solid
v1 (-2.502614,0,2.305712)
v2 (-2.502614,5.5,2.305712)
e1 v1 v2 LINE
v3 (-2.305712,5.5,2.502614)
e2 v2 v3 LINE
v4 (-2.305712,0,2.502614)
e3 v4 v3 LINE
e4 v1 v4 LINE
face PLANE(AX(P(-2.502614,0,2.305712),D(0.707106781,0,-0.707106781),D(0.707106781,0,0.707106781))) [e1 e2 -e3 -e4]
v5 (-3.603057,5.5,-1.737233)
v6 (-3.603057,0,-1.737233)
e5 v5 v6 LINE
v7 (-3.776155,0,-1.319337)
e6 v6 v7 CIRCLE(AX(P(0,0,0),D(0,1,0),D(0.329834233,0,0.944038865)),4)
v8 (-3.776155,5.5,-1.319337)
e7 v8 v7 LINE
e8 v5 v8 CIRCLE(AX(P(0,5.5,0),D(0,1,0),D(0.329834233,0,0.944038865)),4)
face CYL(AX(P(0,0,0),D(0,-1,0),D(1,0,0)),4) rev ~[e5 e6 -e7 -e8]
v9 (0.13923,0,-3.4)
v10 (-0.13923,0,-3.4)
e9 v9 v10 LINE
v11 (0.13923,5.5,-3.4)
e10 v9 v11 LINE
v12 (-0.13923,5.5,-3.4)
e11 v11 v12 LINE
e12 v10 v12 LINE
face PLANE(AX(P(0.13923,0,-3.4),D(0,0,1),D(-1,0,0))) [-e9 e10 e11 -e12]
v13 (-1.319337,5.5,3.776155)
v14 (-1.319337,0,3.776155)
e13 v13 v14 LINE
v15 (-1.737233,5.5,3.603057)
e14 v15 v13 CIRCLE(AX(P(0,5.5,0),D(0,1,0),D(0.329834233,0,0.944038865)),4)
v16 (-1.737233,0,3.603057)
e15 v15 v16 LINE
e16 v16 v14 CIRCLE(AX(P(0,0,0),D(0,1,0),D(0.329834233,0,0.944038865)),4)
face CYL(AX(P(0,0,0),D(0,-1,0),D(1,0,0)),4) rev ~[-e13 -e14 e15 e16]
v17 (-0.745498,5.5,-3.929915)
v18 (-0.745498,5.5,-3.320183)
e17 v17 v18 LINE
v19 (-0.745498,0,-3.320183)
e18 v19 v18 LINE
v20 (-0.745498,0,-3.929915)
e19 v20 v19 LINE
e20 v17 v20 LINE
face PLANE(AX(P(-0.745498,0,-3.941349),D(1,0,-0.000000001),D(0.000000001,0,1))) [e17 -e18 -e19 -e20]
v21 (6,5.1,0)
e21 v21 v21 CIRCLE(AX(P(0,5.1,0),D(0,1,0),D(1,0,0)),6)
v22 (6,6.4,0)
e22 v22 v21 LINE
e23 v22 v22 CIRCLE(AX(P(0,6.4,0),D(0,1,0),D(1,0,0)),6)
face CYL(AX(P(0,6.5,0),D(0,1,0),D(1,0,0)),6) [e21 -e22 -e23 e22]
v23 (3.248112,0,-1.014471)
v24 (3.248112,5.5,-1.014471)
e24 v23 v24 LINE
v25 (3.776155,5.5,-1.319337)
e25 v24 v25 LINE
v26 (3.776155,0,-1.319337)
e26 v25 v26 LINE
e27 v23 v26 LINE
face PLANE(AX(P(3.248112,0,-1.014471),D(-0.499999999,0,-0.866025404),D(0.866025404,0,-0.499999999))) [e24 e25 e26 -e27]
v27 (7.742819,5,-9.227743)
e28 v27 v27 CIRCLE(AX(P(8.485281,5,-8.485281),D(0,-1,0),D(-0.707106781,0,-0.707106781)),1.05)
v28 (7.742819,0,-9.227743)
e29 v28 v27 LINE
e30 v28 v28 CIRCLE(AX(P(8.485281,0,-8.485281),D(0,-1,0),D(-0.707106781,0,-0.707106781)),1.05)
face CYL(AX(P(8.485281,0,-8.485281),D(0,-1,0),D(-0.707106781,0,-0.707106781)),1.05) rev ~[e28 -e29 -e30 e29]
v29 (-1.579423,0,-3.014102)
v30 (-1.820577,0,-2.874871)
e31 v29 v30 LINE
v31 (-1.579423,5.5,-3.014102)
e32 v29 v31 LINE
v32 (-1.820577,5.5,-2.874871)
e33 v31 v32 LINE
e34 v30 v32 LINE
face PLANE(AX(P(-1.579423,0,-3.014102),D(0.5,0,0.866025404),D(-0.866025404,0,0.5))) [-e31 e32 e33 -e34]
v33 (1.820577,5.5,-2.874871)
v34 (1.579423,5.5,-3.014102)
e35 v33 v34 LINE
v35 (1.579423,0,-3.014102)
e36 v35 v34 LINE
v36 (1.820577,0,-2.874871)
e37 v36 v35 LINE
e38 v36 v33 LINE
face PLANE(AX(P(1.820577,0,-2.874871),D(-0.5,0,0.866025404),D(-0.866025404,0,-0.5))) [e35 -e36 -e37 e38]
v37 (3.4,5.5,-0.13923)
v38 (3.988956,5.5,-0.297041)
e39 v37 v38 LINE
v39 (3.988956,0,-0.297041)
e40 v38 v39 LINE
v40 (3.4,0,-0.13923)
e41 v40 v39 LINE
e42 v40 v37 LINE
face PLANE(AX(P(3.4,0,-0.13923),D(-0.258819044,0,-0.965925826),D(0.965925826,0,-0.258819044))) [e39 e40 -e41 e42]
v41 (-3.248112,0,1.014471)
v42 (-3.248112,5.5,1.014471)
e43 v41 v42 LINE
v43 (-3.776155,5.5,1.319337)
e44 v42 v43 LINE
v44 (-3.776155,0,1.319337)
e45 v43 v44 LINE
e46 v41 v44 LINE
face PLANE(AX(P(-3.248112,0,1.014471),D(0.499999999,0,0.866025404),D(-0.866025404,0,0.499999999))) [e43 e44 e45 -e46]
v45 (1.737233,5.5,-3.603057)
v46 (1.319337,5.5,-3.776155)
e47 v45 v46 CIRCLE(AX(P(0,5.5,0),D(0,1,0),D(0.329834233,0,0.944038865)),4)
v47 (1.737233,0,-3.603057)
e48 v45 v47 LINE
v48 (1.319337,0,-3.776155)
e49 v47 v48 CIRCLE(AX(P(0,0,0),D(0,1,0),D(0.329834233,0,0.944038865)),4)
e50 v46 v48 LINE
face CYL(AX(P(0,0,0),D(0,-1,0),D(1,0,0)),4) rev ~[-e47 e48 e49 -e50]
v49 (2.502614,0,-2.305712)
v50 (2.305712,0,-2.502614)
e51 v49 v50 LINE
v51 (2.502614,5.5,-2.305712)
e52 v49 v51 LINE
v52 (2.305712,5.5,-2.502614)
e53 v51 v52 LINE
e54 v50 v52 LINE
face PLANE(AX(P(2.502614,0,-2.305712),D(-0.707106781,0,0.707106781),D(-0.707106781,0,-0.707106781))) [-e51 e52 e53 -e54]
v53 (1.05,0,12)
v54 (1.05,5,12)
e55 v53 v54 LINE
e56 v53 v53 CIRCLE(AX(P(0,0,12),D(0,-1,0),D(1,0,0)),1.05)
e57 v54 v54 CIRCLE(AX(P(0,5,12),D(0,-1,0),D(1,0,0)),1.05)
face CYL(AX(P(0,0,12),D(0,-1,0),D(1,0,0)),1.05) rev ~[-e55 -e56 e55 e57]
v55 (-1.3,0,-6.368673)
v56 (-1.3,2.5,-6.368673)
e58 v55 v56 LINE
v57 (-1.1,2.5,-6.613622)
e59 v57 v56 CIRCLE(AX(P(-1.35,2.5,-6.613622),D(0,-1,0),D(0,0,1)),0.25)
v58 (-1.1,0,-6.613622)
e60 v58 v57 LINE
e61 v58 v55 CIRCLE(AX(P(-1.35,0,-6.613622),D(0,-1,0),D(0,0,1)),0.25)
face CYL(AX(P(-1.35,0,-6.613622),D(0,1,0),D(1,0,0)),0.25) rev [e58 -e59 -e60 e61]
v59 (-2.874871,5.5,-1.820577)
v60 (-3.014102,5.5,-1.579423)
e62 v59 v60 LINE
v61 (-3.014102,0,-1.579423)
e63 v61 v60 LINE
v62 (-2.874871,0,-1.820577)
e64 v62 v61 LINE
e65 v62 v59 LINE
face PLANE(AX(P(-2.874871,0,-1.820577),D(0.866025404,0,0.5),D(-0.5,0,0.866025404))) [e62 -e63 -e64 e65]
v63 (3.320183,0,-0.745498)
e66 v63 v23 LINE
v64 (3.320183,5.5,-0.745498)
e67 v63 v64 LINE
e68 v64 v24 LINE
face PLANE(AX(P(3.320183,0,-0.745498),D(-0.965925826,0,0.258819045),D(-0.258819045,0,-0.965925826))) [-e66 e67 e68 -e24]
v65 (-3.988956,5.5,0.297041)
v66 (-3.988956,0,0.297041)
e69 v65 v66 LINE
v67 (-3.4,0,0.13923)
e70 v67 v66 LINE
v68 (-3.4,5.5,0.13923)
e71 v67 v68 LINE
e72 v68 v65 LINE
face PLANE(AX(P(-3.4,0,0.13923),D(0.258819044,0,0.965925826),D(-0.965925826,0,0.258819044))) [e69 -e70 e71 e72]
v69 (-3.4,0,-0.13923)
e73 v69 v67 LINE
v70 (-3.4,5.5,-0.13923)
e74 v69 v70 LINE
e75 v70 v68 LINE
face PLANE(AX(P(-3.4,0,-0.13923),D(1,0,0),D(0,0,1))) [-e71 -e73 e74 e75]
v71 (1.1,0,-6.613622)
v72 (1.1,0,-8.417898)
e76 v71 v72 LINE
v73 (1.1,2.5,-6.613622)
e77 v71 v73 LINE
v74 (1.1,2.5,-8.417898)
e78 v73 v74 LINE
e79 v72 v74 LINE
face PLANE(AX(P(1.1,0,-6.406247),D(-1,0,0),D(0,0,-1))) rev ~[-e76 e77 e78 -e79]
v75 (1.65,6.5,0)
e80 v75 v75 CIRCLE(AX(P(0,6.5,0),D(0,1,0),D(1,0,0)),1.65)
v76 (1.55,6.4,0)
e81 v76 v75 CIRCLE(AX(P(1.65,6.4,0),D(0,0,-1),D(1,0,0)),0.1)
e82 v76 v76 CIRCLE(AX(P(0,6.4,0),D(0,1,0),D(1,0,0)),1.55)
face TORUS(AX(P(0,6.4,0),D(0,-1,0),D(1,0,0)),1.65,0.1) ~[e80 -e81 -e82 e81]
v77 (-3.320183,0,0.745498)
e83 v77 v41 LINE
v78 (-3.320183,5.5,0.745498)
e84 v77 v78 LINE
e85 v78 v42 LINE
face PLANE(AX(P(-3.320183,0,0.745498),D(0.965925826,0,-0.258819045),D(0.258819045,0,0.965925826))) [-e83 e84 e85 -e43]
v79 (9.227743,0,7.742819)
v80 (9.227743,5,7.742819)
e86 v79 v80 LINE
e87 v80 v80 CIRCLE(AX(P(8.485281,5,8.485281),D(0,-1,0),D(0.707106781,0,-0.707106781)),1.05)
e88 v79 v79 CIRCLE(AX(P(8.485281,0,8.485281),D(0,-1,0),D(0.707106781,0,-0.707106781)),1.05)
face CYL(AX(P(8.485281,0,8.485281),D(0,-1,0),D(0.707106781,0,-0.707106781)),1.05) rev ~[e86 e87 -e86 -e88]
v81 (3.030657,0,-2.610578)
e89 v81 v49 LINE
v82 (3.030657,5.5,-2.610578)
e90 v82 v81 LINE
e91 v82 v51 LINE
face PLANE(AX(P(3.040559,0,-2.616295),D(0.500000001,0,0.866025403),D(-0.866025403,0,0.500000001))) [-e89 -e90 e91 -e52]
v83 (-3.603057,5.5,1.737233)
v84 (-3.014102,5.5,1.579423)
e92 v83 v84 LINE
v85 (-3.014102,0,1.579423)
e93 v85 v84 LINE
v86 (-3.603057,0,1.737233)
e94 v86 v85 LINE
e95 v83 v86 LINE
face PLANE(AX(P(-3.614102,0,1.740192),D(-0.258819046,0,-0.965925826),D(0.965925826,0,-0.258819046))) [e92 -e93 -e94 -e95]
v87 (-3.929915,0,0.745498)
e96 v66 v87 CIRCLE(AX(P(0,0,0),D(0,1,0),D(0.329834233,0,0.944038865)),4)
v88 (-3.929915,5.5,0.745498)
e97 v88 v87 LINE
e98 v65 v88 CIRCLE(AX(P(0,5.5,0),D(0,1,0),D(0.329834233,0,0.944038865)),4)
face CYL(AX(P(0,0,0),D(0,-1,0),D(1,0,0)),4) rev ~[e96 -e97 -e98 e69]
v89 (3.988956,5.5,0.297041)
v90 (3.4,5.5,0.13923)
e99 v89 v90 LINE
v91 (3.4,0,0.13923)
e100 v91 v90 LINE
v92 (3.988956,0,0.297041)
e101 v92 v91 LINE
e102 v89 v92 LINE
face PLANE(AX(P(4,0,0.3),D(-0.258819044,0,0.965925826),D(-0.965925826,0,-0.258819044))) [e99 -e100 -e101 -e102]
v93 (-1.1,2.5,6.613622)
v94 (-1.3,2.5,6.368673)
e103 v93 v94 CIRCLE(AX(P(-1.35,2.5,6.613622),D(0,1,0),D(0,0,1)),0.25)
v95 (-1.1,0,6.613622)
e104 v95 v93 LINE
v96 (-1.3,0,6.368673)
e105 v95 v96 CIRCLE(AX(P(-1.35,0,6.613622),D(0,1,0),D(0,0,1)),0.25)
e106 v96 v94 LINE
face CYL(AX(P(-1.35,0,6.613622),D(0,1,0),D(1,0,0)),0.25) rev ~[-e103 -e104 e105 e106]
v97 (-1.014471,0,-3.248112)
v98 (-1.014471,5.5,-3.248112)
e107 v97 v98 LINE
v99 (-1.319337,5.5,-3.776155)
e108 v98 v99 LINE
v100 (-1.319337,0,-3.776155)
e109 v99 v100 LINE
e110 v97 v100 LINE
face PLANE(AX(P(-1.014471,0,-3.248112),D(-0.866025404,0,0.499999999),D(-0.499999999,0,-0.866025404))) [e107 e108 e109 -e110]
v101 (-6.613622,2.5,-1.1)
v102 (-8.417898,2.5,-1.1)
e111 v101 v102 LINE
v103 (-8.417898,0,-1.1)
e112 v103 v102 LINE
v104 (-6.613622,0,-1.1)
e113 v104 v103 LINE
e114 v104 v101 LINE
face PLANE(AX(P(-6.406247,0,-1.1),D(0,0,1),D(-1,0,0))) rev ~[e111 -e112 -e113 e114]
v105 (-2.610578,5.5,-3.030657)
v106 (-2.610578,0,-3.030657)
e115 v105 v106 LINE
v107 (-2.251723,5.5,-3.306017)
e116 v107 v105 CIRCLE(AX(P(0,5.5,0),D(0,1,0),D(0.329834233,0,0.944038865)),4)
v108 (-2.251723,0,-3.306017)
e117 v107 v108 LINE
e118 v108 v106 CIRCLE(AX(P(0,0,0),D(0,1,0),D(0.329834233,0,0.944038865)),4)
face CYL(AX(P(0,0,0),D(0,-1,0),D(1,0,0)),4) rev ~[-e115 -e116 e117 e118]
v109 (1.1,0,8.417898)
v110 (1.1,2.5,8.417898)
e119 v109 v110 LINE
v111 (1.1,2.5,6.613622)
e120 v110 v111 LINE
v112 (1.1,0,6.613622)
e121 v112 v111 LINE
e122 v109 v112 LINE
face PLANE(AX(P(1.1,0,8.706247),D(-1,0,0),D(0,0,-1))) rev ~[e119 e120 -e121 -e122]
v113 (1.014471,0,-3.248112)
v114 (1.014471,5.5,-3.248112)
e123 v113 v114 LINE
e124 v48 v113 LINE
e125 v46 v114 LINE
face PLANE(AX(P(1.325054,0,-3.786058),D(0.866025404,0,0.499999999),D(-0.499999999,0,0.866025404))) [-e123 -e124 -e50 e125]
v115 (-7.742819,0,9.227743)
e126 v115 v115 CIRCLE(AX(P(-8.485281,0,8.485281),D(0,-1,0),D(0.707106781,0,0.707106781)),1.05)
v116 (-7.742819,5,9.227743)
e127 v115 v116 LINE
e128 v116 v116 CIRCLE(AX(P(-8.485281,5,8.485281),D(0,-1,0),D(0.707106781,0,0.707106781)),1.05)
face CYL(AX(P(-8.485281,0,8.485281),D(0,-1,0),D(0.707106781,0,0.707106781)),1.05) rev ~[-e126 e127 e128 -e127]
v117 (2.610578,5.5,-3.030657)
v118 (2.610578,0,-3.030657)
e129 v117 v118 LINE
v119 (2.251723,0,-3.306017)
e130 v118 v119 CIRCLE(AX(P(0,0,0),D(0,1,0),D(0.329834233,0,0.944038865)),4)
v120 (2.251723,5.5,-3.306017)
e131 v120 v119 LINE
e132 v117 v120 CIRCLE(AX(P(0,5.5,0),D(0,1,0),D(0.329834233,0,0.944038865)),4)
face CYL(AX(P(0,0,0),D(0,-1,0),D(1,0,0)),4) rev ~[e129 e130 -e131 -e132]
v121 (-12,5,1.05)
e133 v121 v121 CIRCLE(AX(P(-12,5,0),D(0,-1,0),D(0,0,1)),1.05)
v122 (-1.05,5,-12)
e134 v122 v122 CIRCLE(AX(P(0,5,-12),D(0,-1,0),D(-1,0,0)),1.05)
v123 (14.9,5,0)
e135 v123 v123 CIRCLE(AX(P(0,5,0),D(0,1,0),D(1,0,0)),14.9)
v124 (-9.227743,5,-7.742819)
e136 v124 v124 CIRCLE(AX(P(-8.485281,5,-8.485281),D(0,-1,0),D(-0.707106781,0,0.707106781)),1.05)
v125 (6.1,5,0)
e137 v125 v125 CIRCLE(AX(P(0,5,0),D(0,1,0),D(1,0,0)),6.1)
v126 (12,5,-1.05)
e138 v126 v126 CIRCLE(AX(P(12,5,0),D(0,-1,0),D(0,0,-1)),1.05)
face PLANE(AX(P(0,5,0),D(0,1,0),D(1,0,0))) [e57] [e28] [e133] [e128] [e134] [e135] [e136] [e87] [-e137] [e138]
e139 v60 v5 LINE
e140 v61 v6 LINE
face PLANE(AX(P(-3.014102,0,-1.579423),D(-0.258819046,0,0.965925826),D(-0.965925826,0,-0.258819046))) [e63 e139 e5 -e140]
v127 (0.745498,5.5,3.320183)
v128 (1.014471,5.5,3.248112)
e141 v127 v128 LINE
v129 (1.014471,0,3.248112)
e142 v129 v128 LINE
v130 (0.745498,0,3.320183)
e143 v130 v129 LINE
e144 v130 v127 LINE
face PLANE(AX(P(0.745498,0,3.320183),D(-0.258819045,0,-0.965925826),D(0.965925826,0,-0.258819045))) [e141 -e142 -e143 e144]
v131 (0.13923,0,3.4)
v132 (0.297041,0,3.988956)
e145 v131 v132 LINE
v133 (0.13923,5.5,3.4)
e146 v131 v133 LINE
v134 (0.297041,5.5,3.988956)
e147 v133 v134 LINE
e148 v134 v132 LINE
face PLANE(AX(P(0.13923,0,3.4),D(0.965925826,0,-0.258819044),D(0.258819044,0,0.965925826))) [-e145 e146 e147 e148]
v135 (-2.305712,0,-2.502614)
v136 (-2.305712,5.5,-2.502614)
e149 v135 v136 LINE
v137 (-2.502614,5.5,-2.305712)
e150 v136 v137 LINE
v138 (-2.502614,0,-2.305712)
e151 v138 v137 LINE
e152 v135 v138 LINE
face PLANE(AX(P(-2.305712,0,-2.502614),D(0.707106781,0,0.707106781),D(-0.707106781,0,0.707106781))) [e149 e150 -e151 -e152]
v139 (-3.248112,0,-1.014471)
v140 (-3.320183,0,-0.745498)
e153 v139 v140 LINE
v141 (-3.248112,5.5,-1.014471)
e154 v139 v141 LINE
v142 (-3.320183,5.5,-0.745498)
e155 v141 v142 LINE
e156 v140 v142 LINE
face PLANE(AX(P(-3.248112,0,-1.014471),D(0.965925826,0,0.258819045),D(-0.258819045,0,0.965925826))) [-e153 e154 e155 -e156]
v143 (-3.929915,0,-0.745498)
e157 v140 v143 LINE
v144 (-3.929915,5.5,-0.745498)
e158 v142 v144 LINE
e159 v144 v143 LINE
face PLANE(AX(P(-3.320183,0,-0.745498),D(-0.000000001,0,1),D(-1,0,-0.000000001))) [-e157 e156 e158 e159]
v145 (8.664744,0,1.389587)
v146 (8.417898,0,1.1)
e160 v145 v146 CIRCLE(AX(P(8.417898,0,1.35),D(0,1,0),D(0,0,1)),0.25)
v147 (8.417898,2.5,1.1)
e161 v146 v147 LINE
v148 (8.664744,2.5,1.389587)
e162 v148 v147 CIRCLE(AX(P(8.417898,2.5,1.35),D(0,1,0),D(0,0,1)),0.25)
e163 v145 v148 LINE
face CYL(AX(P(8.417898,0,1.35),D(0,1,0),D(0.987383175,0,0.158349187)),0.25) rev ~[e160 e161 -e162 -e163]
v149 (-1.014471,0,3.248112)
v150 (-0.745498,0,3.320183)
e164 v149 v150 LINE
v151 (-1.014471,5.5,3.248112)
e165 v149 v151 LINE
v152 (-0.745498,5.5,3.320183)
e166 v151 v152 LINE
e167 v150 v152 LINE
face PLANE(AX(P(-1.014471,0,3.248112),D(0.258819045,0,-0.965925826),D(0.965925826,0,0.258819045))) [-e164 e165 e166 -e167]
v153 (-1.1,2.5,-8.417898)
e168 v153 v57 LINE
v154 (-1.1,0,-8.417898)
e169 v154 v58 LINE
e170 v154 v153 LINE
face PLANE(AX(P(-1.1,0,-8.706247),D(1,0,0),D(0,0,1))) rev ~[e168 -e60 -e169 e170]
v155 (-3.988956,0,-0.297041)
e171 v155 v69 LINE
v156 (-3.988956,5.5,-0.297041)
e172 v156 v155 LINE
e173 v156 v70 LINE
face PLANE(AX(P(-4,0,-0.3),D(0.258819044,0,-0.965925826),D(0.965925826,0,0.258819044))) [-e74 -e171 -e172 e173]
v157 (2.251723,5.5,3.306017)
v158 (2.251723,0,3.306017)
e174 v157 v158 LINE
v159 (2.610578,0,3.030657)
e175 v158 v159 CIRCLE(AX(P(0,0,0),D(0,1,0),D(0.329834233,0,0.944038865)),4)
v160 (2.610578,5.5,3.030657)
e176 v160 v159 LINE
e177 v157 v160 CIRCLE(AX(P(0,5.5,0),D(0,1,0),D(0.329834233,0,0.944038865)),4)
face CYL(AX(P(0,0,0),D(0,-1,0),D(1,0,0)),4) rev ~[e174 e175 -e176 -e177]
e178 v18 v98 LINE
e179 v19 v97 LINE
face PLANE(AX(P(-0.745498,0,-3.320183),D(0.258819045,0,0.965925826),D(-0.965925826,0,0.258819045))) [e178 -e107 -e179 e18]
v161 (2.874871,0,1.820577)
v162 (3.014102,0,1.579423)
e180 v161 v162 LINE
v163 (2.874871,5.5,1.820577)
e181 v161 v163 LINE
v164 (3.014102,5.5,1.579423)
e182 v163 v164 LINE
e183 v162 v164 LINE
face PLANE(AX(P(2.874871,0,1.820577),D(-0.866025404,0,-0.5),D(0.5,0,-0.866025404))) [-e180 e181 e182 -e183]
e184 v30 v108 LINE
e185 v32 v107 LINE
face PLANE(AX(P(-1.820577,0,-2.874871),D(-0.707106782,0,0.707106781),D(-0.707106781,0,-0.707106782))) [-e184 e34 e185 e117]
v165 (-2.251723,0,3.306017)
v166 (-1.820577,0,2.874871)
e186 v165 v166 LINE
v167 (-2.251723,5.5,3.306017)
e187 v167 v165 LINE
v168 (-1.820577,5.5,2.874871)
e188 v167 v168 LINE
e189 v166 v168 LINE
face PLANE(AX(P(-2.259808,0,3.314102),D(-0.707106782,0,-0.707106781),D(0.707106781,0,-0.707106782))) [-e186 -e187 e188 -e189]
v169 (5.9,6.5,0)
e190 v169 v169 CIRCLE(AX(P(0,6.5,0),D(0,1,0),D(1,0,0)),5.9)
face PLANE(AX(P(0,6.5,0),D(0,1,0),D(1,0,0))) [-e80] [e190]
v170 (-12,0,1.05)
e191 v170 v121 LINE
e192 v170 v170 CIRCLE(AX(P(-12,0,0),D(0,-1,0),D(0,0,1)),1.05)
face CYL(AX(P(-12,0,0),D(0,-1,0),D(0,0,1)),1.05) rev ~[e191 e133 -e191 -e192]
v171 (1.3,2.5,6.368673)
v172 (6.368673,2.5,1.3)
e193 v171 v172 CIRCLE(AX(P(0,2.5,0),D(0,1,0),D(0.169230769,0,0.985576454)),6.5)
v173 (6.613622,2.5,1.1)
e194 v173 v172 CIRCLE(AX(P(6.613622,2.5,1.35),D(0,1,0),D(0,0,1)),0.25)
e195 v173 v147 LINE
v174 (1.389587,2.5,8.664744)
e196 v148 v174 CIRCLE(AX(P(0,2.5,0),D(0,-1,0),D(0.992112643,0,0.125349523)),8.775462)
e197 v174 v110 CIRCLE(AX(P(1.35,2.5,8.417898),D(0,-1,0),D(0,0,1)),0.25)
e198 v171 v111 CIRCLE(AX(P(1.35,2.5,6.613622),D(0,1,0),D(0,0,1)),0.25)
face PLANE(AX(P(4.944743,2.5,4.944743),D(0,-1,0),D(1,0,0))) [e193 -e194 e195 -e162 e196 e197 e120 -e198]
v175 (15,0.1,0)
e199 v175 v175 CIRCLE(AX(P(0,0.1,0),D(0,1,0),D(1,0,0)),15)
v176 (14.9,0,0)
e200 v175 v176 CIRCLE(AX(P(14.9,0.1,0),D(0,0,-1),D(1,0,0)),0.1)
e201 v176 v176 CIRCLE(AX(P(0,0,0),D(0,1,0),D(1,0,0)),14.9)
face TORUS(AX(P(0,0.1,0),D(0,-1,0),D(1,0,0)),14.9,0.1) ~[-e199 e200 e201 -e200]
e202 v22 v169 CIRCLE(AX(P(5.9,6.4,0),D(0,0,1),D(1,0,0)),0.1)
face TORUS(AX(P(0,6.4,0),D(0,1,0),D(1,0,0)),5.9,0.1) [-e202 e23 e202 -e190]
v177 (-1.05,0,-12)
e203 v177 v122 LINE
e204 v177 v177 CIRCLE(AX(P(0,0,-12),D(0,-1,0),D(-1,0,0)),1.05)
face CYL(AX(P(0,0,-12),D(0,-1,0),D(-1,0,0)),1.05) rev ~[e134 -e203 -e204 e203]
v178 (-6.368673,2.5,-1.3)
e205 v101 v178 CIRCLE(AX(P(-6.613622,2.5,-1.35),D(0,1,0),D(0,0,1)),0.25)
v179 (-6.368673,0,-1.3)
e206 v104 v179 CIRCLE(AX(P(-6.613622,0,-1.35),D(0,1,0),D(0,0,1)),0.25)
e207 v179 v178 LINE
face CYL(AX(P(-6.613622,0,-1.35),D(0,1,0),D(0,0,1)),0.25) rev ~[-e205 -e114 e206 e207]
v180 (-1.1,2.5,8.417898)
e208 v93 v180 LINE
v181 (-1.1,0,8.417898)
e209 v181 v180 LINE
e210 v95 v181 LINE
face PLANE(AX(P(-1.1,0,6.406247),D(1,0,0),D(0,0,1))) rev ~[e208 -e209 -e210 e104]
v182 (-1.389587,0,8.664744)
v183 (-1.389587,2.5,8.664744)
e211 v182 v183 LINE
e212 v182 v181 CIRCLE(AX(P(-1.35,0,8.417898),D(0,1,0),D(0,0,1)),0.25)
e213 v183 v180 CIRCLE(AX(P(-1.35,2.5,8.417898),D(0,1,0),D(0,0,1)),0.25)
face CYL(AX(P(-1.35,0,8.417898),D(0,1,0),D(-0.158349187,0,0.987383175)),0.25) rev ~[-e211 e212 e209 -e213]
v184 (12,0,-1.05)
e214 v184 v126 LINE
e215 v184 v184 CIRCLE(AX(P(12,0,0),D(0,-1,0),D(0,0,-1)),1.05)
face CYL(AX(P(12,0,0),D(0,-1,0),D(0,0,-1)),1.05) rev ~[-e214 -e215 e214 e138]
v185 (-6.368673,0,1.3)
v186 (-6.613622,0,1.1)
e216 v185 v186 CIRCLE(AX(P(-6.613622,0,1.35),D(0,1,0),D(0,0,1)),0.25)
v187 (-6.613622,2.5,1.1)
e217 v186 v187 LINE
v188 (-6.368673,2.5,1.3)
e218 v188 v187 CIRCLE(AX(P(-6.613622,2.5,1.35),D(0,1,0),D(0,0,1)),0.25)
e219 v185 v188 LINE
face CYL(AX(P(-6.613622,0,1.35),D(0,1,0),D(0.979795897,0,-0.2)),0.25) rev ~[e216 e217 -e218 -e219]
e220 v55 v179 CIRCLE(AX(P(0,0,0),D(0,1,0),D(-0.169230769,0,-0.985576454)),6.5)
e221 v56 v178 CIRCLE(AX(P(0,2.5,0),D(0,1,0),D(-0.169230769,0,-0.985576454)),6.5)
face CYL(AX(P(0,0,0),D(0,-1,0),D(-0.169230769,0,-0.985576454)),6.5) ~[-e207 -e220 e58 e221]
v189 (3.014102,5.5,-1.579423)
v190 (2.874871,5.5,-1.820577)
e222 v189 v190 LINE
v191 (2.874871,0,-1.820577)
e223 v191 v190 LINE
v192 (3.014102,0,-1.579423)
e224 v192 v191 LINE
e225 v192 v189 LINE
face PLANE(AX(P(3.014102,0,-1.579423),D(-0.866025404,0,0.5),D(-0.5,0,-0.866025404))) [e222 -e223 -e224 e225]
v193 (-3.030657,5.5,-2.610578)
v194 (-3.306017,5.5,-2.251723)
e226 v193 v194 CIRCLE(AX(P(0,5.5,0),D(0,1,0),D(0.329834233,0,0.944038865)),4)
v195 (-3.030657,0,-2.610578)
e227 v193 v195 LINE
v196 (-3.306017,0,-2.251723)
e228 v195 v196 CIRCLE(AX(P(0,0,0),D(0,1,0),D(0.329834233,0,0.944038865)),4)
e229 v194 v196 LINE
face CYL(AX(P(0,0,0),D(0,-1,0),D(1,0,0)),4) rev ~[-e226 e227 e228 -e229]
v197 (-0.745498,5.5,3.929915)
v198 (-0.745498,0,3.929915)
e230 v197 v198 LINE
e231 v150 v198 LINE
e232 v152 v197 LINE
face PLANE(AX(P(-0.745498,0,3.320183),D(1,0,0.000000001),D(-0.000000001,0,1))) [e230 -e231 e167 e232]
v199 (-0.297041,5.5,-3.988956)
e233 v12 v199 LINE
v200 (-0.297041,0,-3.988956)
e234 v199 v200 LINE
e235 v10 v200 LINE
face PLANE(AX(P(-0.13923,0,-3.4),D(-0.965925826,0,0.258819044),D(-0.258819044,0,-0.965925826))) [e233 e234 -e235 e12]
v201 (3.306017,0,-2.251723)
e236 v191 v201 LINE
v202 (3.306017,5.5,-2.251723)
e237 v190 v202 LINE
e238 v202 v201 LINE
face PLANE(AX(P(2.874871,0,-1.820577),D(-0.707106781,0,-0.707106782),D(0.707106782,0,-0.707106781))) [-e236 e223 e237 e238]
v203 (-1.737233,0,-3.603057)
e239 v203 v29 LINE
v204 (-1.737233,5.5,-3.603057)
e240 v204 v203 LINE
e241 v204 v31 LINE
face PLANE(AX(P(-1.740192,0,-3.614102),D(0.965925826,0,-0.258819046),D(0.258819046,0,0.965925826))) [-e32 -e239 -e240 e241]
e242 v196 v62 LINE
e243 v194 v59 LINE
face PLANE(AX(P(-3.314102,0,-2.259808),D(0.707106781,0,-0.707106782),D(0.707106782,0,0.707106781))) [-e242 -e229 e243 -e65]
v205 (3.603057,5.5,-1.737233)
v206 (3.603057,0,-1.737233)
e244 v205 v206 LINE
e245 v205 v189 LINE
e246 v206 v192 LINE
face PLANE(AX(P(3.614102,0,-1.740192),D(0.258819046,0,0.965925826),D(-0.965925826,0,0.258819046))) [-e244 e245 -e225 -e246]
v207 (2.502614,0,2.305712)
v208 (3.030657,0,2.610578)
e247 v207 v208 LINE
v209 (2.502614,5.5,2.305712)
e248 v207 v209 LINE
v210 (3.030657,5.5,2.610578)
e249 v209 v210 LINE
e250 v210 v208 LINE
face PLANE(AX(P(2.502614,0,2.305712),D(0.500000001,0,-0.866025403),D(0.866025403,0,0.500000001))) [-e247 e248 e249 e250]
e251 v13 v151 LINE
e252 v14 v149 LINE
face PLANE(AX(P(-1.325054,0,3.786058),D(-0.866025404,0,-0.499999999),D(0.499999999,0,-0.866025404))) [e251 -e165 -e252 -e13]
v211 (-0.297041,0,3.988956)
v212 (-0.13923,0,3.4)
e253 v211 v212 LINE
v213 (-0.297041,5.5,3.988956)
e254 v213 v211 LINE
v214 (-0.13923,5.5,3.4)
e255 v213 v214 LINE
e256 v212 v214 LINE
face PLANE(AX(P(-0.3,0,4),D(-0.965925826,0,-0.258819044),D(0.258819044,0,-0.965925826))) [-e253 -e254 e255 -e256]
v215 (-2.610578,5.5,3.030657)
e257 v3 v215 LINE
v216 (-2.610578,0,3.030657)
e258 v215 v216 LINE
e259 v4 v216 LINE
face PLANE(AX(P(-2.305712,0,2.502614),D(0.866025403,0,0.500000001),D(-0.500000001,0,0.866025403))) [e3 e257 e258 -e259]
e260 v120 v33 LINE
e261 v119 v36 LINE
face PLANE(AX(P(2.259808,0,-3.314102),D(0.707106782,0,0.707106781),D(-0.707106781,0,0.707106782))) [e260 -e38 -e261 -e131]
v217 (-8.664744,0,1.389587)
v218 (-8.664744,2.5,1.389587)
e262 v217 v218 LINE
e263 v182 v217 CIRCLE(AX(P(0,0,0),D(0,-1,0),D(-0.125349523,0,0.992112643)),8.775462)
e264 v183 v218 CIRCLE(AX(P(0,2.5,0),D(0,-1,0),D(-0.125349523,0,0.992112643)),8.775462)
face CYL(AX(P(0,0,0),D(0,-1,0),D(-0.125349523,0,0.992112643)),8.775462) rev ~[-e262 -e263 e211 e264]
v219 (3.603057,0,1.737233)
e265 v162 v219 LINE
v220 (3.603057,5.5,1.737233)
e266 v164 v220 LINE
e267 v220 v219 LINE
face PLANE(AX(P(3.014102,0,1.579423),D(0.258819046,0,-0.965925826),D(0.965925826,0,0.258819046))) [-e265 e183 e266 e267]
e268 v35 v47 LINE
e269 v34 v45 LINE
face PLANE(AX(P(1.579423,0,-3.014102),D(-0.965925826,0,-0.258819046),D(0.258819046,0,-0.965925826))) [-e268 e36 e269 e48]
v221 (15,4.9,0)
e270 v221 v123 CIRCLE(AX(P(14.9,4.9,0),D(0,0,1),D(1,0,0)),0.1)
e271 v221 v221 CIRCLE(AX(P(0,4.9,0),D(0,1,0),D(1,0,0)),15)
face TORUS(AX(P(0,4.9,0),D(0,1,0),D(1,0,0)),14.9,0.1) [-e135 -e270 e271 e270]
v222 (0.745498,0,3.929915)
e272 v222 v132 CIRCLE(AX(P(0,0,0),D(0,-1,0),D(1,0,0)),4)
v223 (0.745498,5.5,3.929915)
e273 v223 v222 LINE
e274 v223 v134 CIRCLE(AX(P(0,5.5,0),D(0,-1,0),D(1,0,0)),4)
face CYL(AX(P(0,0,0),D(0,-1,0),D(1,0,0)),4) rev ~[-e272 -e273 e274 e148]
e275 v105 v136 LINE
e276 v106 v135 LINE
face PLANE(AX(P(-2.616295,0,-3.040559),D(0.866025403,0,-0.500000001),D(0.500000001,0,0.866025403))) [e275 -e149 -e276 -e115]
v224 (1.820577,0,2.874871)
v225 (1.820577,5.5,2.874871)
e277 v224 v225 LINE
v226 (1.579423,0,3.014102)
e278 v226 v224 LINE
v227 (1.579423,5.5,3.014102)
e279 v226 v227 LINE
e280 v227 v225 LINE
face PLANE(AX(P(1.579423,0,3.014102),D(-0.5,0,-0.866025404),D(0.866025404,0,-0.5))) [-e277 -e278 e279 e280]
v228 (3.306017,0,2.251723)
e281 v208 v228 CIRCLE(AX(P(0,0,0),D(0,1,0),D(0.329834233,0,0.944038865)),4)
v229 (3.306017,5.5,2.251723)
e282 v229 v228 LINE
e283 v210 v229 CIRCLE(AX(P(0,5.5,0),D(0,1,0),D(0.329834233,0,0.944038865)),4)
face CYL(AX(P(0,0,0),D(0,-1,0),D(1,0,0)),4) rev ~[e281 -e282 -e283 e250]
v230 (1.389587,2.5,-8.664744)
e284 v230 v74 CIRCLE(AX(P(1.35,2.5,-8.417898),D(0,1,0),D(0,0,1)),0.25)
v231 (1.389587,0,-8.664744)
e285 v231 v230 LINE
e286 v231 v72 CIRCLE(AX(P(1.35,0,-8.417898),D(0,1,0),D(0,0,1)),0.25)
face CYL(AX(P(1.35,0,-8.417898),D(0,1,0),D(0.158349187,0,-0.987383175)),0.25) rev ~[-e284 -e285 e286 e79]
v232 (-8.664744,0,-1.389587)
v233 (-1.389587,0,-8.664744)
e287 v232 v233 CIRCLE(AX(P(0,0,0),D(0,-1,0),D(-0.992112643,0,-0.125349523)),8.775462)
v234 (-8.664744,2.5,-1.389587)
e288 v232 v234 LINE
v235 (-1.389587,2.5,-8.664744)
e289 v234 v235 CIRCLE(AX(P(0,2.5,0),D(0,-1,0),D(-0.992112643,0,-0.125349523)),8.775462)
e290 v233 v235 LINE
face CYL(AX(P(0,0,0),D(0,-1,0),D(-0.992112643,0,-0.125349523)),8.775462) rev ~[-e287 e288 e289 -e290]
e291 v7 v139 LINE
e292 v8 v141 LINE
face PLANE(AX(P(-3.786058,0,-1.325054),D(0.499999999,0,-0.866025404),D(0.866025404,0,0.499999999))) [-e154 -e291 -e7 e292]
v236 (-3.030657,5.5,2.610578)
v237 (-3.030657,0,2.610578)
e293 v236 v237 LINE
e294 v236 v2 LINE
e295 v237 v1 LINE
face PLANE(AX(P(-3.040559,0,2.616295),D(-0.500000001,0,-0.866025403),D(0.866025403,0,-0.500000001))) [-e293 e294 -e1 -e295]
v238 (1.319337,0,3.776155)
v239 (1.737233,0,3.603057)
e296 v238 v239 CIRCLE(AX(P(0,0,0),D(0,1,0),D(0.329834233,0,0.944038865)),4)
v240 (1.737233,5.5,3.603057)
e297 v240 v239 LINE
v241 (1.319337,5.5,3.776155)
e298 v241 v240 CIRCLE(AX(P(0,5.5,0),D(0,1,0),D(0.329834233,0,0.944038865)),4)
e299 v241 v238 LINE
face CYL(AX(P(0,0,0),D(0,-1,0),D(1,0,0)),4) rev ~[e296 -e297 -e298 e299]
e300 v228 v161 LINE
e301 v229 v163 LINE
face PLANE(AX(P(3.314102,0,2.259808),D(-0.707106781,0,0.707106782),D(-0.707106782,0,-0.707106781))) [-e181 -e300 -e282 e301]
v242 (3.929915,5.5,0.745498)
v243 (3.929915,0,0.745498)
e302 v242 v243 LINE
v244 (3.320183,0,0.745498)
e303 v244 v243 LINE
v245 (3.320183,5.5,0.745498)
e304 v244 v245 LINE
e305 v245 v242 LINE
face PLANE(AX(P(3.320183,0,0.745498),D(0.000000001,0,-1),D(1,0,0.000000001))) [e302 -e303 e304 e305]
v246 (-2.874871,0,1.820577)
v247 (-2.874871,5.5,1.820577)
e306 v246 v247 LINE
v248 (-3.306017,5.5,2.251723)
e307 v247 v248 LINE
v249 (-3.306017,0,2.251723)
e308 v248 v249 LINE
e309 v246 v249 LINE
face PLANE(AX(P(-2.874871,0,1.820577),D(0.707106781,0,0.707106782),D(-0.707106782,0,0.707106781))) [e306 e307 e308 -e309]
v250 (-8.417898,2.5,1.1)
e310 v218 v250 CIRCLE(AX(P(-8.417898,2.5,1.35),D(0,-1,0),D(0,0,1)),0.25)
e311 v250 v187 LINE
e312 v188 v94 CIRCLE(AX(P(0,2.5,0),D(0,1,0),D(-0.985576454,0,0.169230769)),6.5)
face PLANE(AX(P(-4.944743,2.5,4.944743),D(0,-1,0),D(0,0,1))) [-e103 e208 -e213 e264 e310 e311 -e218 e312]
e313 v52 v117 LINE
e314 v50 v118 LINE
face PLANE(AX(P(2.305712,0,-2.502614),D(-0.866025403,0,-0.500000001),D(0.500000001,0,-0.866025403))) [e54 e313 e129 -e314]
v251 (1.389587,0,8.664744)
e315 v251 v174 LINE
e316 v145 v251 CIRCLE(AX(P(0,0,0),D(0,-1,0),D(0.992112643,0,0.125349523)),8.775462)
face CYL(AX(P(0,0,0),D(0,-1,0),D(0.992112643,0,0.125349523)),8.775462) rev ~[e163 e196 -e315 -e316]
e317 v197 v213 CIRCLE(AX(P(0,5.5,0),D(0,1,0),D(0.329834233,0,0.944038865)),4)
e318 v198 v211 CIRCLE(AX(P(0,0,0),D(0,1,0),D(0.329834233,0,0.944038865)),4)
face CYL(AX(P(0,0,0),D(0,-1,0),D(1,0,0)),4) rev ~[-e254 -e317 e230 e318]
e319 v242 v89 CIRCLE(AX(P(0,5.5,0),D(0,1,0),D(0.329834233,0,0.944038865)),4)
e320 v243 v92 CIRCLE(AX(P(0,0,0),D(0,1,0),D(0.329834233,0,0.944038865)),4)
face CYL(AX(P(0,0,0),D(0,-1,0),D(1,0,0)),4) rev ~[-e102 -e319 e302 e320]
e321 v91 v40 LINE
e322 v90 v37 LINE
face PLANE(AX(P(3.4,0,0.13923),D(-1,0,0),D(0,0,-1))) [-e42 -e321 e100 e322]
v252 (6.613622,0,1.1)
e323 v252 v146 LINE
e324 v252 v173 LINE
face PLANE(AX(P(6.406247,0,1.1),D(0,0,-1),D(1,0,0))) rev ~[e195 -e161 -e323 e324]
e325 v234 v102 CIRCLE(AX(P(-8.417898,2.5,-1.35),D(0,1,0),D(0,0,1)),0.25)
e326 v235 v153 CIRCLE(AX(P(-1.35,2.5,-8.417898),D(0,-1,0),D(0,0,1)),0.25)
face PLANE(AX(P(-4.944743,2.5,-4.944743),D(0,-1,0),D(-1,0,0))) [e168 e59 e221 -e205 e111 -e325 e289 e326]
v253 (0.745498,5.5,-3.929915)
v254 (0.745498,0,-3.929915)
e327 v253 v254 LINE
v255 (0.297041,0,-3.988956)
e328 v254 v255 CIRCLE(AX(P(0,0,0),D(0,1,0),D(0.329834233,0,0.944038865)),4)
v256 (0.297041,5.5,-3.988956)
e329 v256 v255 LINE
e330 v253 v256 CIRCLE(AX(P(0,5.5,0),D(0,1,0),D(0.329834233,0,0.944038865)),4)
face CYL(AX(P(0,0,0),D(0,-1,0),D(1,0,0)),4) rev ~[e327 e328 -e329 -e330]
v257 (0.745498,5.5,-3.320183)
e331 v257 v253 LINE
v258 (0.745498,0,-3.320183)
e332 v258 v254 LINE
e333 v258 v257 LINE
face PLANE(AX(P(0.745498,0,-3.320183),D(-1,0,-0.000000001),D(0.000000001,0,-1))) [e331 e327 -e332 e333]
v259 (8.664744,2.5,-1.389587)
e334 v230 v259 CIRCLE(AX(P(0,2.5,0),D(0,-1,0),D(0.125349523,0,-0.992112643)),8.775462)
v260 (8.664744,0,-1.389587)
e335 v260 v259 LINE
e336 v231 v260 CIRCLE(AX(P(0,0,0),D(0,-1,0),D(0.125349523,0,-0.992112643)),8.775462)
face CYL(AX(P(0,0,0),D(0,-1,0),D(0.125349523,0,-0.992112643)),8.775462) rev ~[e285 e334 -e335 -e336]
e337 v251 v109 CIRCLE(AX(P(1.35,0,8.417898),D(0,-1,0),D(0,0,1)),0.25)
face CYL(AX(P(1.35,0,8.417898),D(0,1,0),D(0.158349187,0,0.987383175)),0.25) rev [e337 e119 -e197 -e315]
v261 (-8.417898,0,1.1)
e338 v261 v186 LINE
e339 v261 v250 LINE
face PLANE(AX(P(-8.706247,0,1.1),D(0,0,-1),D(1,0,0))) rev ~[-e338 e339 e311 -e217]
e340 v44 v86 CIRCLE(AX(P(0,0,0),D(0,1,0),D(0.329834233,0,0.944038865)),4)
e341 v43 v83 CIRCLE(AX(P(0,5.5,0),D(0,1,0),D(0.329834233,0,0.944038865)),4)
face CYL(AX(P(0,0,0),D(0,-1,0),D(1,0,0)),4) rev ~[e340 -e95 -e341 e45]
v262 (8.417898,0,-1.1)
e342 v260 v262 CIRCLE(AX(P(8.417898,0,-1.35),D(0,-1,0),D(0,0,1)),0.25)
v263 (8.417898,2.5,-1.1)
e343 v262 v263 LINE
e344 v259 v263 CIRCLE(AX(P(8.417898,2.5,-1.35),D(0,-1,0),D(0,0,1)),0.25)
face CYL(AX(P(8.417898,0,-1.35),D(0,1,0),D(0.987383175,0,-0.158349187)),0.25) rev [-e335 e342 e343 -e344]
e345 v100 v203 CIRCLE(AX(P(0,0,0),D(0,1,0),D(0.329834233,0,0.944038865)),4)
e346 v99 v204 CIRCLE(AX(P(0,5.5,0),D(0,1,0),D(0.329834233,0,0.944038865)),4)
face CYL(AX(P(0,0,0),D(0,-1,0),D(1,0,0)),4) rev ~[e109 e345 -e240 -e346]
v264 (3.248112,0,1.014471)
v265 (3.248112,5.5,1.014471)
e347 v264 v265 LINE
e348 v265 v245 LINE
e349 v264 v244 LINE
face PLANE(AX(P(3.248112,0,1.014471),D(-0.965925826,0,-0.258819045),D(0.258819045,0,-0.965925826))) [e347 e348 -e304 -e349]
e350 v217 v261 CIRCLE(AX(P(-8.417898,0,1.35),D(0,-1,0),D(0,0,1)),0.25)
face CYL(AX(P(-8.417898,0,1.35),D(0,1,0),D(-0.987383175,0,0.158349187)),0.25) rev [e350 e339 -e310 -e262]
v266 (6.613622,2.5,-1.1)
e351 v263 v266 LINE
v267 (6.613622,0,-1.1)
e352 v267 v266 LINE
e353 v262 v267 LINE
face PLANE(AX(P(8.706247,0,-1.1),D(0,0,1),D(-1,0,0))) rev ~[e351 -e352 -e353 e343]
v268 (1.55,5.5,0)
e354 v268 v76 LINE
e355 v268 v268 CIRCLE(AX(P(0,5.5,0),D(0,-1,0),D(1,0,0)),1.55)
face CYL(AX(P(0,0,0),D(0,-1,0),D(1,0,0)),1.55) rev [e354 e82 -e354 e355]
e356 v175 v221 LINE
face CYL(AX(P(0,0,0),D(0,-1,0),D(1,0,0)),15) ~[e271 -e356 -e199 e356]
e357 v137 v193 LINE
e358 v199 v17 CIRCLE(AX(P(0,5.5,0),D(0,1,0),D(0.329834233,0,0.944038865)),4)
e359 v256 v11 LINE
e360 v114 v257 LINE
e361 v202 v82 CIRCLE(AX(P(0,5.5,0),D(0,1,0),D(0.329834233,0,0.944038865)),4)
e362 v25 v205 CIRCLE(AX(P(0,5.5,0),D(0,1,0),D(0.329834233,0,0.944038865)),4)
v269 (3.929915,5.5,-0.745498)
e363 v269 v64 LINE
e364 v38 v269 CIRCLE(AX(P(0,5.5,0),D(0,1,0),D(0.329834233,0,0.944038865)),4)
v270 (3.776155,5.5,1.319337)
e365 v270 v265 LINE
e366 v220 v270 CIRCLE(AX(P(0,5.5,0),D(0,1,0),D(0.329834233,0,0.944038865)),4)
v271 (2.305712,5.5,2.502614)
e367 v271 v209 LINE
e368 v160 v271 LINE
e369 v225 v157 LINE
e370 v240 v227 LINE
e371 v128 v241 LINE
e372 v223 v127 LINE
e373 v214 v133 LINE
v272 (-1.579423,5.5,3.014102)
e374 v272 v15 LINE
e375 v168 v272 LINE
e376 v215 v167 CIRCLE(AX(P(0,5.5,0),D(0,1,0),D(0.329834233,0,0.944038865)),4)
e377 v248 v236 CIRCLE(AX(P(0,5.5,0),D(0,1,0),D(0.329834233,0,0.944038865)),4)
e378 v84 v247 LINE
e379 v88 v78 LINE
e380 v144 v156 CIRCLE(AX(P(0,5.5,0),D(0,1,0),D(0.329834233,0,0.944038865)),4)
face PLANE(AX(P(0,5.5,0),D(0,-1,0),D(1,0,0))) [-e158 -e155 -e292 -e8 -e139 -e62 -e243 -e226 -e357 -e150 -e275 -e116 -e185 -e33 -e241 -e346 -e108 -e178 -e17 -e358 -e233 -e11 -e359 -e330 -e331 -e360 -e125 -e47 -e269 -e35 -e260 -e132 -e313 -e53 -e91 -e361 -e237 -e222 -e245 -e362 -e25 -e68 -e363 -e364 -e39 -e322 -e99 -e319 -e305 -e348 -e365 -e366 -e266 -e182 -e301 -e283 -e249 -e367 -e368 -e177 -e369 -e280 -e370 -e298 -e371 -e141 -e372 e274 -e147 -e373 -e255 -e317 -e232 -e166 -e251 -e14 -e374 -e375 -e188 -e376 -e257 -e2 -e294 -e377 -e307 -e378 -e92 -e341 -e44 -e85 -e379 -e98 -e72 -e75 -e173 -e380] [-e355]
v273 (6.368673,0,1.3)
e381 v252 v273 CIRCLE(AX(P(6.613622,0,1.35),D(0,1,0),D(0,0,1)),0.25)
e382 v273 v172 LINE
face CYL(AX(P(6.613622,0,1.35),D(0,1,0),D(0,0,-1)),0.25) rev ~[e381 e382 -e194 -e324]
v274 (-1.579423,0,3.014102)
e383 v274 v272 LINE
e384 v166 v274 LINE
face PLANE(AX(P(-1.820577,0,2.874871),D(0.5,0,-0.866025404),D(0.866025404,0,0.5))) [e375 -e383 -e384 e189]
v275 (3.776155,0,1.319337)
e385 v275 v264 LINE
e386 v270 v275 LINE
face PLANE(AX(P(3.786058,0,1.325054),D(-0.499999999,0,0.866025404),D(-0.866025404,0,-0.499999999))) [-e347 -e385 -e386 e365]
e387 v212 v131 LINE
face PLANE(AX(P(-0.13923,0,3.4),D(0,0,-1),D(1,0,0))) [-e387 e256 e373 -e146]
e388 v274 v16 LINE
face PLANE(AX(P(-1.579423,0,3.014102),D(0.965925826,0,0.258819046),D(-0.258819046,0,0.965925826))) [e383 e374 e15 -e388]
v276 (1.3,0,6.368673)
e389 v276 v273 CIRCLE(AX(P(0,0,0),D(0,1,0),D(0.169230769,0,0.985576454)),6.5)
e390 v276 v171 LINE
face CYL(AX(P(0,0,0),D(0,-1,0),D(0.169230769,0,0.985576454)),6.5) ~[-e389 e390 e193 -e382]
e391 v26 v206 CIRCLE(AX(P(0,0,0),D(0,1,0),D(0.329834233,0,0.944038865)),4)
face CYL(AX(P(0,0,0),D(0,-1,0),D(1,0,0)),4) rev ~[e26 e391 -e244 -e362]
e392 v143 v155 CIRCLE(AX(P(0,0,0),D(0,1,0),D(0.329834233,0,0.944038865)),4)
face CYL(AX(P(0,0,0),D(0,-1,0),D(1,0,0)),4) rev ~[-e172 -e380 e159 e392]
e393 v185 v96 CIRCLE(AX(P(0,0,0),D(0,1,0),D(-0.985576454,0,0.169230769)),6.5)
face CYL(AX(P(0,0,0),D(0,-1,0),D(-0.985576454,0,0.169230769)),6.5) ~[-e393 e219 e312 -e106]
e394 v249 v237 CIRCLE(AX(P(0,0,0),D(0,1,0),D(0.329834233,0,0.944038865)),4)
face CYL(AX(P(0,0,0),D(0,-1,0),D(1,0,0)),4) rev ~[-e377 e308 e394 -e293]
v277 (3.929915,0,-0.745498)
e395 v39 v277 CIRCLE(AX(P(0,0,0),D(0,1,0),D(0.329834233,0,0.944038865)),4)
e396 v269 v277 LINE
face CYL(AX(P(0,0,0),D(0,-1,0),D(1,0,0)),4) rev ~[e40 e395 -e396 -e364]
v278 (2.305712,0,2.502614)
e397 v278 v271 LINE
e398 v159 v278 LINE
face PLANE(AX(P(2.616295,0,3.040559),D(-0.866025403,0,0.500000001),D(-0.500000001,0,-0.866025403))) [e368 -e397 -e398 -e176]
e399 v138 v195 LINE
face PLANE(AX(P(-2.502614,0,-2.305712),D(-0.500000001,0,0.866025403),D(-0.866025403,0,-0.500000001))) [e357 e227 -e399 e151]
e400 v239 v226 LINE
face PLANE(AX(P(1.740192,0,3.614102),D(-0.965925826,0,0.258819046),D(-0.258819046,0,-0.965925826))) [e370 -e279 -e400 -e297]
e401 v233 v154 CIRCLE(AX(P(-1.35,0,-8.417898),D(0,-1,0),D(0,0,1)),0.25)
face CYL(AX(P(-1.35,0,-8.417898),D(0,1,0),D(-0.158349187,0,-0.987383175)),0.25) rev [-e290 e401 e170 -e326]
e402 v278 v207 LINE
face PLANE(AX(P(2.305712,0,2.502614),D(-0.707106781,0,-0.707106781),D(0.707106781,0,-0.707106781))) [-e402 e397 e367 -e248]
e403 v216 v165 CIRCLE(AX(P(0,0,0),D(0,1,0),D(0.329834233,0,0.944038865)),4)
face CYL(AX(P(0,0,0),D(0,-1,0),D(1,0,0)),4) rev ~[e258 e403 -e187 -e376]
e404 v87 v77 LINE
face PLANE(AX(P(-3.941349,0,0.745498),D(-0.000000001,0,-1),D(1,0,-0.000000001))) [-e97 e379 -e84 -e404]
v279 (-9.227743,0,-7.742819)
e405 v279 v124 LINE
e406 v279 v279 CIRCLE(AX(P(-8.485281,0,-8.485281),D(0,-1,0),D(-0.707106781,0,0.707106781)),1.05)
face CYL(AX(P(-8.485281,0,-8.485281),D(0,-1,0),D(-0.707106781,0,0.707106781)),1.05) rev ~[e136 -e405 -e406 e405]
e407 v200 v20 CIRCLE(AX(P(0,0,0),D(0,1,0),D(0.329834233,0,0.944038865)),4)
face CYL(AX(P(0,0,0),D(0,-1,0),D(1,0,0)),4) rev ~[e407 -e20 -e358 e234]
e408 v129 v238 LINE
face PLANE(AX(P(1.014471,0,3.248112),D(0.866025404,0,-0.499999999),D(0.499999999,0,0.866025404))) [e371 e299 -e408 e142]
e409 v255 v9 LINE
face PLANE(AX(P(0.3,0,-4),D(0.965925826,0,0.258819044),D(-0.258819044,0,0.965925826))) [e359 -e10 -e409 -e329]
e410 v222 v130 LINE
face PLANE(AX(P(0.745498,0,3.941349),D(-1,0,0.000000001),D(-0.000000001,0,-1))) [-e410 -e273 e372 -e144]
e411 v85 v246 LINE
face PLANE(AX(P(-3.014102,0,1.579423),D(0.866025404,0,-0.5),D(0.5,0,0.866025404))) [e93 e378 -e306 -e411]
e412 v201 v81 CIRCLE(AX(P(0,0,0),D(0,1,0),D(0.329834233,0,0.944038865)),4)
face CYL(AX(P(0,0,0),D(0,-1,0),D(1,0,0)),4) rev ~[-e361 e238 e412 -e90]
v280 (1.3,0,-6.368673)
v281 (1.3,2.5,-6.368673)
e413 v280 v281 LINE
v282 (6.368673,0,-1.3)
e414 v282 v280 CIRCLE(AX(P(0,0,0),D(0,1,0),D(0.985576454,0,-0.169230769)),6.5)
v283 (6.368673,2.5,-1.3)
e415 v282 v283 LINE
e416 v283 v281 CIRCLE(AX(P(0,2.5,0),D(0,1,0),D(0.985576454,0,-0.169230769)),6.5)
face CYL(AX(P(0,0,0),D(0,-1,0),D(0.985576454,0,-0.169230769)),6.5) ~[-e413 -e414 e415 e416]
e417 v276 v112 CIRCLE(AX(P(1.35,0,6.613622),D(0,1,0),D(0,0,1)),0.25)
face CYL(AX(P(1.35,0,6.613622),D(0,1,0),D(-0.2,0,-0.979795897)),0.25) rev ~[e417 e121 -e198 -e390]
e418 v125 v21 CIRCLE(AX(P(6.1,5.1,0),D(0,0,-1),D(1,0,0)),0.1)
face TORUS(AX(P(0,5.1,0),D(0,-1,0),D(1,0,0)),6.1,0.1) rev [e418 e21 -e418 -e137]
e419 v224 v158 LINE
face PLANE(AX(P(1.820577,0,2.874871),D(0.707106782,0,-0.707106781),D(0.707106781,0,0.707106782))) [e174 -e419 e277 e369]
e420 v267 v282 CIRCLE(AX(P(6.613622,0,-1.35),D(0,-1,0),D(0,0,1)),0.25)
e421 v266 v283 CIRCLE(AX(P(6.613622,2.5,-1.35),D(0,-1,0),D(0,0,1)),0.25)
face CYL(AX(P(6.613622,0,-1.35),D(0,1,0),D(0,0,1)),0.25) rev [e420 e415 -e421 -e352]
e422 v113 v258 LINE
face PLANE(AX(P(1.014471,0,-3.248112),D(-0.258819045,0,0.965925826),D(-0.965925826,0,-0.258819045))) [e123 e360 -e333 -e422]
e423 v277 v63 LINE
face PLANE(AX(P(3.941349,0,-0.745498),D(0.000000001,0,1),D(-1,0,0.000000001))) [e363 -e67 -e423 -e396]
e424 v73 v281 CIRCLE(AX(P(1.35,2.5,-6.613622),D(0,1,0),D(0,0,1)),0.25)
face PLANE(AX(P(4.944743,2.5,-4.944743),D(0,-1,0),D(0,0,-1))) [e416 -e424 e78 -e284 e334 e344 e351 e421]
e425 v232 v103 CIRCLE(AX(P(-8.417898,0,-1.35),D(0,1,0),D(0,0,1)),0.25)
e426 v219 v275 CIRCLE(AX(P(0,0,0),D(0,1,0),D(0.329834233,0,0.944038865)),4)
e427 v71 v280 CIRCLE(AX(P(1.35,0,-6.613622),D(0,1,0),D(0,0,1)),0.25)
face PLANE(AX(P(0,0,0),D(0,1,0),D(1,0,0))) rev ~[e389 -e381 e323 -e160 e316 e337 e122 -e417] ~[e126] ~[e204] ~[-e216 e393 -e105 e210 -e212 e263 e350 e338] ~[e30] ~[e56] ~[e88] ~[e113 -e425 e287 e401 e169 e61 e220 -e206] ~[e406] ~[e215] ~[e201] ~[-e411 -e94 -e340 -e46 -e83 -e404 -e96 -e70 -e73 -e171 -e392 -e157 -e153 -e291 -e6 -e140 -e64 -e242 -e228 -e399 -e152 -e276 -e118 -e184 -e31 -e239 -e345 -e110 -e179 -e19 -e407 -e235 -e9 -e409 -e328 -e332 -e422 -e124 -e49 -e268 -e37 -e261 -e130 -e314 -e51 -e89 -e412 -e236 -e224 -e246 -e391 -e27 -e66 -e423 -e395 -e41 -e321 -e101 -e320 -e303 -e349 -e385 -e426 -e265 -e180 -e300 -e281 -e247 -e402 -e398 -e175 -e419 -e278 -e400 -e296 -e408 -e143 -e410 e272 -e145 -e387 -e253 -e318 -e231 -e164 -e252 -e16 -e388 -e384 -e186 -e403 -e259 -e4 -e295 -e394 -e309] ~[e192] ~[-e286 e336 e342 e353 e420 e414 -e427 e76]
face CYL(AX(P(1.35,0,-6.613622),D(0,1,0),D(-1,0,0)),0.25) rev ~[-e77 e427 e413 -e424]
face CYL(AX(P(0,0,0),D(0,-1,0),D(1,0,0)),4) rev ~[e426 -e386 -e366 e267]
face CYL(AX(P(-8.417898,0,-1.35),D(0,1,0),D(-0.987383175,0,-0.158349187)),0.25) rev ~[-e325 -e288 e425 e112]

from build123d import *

# Parameters (mm, degrees)
ESQUISSE2_R                        = 15
ESQUISSE2_R_2                      = 1.55
BOSS_EXTRU_1_DEPTH                 = 6.5
ESQUISSE3_R                        = 15
ESQUISSE3_R_2                      = 6
ENL_V_MAT_EXTRU_1_DEPTH            = 1.5
CONG_1_R                           = 0.1
ESQUISSE4_R                        = 1.05
ENL_V_MAT_EXTRU_2_DEPTH            = 5
R_P_TITION_CIRCULAIRE1_COUNT       = 8
ESQUISSE5_R                        = 4
ENL_V_MAT_EXTRU_3_DEPTH            = 5.5
ENL_V_MAT_EXTRU_4_DEPTH            = 2.5
CONG_2_R                           = 0.25
R_P_TITION_CIRCULAIRE2_COUNT       = 4
CONG_2_OF_R_P_TITION_CIRCULAIRE2_R = 0.25
BOSS_EXTRU_2_DEPTH                 = 5.5
R_P_TITION_CIRCULAIRE3_COUNT       = 24


with BuildPart() as part:
    # Esquisse2 → Boss.-Extru.1 (new body)
    with BuildSketch(Plane(origin=(0, 0, 0), x_dir=(1, 0, 0), z_dir=(0, 1, 0))):
        Circle(ESQUISSE2_R)
        Circle(ESQUISSE2_R_2, mode=Mode.SUBTRACT)
    extrude(amount=BOSS_EXTRU_1_DEPTH)

    # Esquisse3 → Enlèv. mat.-Extru.1 (cut)
    with BuildSketch(Plane(origin=(0, 6.5, 0), x_dir=(1, 0, 0), z_dir=(0, 1, 0))):
        Circle(ESQUISSE3_R)
        Circle(ESQUISSE3_R_2, mode=Mode.SUBTRACT)
    extrude(amount=-ENL_V_MAT_EXTRU_1_DEPTH, mode=Mode.SUBTRACT)

    # Congé1
    cong_1_edges = [part.edges().sort_by_distance(p)[0] for p in [
        (-15, 5, 0),
        (-6, 5, 0),
        (-6, 6.5, 0),
        (-15, 0, 0),
        (-1.55, 6.5, 0),
    ]]
    fillet(cong_1_edges, radius=CONG_1_R)

    # Esquisse4 → Enlèv. mat.-Extru.2 (cut)
    with BuildSketch(Plane.XZ):
        with Locations((0, 12)):
            Circle(ESQUISSE4_R)
    enl_v_mat_extru_2 = extrude(amount=-ENL_V_MAT_EXTRU_2_DEPTH, mode=Mode.SUBTRACT)

    # Répétition circulaire1: Enlèv. mat.-Extru.2 ×8 about axis
    r_p_tition_circulaire1_axis = Axis((0, 0, 0), (0, 1, 0))
    for i in range(1, R_P_TITION_CIRCULAIRE1_COUNT):
        add(enl_v_mat_extru_2.rotate(r_p_tition_circulaire1_axis, i * 360 / R_P_TITION_CIRCULAIRE1_COUNT), mode=Mode.SUBTRACT)

    # Esquisse5 → Enlèv. mat.-Extru.3 (cut)
    with BuildSketch(Plane.XZ):
        Circle(ESQUISSE5_R)
    extrude(amount=-ENL_V_MAT_EXTRU_3_DEPTH, mode=Mode.SUBTRACT)

    # Esquisse6 → Enlèv. mat.-Extru.4 (cut)
    with BuildSketch(Plane.XZ):
        with BuildLine():
            Line((1.1, 8.706246951), (1.1, 6.406246951))
            ThreePointArc((1.1, 6.406246951), (4.596194078, 4.596194078), (6.406246951, 1.1))
            Line((6.406246951, 1.1), (8.706246951, 1.1))
            ThreePointArc((8.706246951, 1.1), (6.205188796, 6.205188796), (1.1, 8.706246951))
        make_face()
    enl_v_mat_extru_4 = extrude(amount=-ENL_V_MAT_EXTRU_4_DEPTH, mode=Mode.SUBTRACT)

    # Congé2
    cong_2_edges = [part.edges().sort_by_distance(p)[0] for p in [
        (6.406246951, 1.25, 1.1),
        (1.1, 1.25, 6.406246951),
        (1.1, 1.25, 8.706246951),
        (8.706246951, 1.25, 1.1),
    ]]
    fillet(cong_2_edges, radius=CONG_2_R)

    # Répétition circulaire2: Enlèv. mat.-Extru.4 ×4 about axis
    r_p_tition_circulaire2_axis = Axis((0, 0, 0), (0, 1, 0))
    for i in range(1, R_P_TITION_CIRCULAIRE2_COUNT):
        add(enl_v_mat_extru_4.rotate(r_p_tition_circulaire2_axis, i * 360 / R_P_TITION_CIRCULAIRE2_COUNT), mode=Mode.SUBTRACT)

    # Congé2 of Répétition circulaire2
    cong_2_of_r_p_tition_circulaire2_edges = [part.edges().sort_by_distance(p)[0] for p in [
        (1.1, 1.25, -6.406246951),
        (6.406246951, 1.25, -1.1),
        (8.706246951, 1.25, -1.1),
        (1.1, 1.25, -8.706246951),
        (-6.406246951, 1.25, -1.1),
        (-1.1, 1.25, -6.406246951),
        (-1.1, 1.25, -8.706246951),
        (-8.706246951, 1.25, -1.1),
        (-1.1, 1.25, 6.406246951),
        (-6.406246951, 1.25, 1.1),
        (-8.706246951, 1.25, 1.1),
        (-1.1, 1.25, 8.706246951),
    ]]
    fillet(cong_2_of_r_p_tition_circulaire2_edges, radius=CONG_2_OF_R_P_TITION_CIRCULAIRE2_R)

    # Esquisse7 → Boss.-Extru.2 (add)
    with BuildSketch(Plane.XZ):
        Polygon((0.3, 4), (-0.3, 4), (-0.139230485, 3.4), (0.139230485, 3.4), align=None)
    boss_extru_2 = extrude(amount=-BOSS_EXTRU_2_DEPTH)

    # Répétition circulaire3: Boss.-Extru.2 ×24 about axis
    r_p_tition_circulaire3_axis = Axis((0, 0, 0), (0, 1, 0))
    for i in range(1, R_P_TITION_CIRCULAIRE3_COUNT):
        add(boss_extru_2.rotate(r_p_tition_circulaire3_axis, i * 360 / R_P_TITION_CIRCULAIRE3_COUNT))


solid = part.part
